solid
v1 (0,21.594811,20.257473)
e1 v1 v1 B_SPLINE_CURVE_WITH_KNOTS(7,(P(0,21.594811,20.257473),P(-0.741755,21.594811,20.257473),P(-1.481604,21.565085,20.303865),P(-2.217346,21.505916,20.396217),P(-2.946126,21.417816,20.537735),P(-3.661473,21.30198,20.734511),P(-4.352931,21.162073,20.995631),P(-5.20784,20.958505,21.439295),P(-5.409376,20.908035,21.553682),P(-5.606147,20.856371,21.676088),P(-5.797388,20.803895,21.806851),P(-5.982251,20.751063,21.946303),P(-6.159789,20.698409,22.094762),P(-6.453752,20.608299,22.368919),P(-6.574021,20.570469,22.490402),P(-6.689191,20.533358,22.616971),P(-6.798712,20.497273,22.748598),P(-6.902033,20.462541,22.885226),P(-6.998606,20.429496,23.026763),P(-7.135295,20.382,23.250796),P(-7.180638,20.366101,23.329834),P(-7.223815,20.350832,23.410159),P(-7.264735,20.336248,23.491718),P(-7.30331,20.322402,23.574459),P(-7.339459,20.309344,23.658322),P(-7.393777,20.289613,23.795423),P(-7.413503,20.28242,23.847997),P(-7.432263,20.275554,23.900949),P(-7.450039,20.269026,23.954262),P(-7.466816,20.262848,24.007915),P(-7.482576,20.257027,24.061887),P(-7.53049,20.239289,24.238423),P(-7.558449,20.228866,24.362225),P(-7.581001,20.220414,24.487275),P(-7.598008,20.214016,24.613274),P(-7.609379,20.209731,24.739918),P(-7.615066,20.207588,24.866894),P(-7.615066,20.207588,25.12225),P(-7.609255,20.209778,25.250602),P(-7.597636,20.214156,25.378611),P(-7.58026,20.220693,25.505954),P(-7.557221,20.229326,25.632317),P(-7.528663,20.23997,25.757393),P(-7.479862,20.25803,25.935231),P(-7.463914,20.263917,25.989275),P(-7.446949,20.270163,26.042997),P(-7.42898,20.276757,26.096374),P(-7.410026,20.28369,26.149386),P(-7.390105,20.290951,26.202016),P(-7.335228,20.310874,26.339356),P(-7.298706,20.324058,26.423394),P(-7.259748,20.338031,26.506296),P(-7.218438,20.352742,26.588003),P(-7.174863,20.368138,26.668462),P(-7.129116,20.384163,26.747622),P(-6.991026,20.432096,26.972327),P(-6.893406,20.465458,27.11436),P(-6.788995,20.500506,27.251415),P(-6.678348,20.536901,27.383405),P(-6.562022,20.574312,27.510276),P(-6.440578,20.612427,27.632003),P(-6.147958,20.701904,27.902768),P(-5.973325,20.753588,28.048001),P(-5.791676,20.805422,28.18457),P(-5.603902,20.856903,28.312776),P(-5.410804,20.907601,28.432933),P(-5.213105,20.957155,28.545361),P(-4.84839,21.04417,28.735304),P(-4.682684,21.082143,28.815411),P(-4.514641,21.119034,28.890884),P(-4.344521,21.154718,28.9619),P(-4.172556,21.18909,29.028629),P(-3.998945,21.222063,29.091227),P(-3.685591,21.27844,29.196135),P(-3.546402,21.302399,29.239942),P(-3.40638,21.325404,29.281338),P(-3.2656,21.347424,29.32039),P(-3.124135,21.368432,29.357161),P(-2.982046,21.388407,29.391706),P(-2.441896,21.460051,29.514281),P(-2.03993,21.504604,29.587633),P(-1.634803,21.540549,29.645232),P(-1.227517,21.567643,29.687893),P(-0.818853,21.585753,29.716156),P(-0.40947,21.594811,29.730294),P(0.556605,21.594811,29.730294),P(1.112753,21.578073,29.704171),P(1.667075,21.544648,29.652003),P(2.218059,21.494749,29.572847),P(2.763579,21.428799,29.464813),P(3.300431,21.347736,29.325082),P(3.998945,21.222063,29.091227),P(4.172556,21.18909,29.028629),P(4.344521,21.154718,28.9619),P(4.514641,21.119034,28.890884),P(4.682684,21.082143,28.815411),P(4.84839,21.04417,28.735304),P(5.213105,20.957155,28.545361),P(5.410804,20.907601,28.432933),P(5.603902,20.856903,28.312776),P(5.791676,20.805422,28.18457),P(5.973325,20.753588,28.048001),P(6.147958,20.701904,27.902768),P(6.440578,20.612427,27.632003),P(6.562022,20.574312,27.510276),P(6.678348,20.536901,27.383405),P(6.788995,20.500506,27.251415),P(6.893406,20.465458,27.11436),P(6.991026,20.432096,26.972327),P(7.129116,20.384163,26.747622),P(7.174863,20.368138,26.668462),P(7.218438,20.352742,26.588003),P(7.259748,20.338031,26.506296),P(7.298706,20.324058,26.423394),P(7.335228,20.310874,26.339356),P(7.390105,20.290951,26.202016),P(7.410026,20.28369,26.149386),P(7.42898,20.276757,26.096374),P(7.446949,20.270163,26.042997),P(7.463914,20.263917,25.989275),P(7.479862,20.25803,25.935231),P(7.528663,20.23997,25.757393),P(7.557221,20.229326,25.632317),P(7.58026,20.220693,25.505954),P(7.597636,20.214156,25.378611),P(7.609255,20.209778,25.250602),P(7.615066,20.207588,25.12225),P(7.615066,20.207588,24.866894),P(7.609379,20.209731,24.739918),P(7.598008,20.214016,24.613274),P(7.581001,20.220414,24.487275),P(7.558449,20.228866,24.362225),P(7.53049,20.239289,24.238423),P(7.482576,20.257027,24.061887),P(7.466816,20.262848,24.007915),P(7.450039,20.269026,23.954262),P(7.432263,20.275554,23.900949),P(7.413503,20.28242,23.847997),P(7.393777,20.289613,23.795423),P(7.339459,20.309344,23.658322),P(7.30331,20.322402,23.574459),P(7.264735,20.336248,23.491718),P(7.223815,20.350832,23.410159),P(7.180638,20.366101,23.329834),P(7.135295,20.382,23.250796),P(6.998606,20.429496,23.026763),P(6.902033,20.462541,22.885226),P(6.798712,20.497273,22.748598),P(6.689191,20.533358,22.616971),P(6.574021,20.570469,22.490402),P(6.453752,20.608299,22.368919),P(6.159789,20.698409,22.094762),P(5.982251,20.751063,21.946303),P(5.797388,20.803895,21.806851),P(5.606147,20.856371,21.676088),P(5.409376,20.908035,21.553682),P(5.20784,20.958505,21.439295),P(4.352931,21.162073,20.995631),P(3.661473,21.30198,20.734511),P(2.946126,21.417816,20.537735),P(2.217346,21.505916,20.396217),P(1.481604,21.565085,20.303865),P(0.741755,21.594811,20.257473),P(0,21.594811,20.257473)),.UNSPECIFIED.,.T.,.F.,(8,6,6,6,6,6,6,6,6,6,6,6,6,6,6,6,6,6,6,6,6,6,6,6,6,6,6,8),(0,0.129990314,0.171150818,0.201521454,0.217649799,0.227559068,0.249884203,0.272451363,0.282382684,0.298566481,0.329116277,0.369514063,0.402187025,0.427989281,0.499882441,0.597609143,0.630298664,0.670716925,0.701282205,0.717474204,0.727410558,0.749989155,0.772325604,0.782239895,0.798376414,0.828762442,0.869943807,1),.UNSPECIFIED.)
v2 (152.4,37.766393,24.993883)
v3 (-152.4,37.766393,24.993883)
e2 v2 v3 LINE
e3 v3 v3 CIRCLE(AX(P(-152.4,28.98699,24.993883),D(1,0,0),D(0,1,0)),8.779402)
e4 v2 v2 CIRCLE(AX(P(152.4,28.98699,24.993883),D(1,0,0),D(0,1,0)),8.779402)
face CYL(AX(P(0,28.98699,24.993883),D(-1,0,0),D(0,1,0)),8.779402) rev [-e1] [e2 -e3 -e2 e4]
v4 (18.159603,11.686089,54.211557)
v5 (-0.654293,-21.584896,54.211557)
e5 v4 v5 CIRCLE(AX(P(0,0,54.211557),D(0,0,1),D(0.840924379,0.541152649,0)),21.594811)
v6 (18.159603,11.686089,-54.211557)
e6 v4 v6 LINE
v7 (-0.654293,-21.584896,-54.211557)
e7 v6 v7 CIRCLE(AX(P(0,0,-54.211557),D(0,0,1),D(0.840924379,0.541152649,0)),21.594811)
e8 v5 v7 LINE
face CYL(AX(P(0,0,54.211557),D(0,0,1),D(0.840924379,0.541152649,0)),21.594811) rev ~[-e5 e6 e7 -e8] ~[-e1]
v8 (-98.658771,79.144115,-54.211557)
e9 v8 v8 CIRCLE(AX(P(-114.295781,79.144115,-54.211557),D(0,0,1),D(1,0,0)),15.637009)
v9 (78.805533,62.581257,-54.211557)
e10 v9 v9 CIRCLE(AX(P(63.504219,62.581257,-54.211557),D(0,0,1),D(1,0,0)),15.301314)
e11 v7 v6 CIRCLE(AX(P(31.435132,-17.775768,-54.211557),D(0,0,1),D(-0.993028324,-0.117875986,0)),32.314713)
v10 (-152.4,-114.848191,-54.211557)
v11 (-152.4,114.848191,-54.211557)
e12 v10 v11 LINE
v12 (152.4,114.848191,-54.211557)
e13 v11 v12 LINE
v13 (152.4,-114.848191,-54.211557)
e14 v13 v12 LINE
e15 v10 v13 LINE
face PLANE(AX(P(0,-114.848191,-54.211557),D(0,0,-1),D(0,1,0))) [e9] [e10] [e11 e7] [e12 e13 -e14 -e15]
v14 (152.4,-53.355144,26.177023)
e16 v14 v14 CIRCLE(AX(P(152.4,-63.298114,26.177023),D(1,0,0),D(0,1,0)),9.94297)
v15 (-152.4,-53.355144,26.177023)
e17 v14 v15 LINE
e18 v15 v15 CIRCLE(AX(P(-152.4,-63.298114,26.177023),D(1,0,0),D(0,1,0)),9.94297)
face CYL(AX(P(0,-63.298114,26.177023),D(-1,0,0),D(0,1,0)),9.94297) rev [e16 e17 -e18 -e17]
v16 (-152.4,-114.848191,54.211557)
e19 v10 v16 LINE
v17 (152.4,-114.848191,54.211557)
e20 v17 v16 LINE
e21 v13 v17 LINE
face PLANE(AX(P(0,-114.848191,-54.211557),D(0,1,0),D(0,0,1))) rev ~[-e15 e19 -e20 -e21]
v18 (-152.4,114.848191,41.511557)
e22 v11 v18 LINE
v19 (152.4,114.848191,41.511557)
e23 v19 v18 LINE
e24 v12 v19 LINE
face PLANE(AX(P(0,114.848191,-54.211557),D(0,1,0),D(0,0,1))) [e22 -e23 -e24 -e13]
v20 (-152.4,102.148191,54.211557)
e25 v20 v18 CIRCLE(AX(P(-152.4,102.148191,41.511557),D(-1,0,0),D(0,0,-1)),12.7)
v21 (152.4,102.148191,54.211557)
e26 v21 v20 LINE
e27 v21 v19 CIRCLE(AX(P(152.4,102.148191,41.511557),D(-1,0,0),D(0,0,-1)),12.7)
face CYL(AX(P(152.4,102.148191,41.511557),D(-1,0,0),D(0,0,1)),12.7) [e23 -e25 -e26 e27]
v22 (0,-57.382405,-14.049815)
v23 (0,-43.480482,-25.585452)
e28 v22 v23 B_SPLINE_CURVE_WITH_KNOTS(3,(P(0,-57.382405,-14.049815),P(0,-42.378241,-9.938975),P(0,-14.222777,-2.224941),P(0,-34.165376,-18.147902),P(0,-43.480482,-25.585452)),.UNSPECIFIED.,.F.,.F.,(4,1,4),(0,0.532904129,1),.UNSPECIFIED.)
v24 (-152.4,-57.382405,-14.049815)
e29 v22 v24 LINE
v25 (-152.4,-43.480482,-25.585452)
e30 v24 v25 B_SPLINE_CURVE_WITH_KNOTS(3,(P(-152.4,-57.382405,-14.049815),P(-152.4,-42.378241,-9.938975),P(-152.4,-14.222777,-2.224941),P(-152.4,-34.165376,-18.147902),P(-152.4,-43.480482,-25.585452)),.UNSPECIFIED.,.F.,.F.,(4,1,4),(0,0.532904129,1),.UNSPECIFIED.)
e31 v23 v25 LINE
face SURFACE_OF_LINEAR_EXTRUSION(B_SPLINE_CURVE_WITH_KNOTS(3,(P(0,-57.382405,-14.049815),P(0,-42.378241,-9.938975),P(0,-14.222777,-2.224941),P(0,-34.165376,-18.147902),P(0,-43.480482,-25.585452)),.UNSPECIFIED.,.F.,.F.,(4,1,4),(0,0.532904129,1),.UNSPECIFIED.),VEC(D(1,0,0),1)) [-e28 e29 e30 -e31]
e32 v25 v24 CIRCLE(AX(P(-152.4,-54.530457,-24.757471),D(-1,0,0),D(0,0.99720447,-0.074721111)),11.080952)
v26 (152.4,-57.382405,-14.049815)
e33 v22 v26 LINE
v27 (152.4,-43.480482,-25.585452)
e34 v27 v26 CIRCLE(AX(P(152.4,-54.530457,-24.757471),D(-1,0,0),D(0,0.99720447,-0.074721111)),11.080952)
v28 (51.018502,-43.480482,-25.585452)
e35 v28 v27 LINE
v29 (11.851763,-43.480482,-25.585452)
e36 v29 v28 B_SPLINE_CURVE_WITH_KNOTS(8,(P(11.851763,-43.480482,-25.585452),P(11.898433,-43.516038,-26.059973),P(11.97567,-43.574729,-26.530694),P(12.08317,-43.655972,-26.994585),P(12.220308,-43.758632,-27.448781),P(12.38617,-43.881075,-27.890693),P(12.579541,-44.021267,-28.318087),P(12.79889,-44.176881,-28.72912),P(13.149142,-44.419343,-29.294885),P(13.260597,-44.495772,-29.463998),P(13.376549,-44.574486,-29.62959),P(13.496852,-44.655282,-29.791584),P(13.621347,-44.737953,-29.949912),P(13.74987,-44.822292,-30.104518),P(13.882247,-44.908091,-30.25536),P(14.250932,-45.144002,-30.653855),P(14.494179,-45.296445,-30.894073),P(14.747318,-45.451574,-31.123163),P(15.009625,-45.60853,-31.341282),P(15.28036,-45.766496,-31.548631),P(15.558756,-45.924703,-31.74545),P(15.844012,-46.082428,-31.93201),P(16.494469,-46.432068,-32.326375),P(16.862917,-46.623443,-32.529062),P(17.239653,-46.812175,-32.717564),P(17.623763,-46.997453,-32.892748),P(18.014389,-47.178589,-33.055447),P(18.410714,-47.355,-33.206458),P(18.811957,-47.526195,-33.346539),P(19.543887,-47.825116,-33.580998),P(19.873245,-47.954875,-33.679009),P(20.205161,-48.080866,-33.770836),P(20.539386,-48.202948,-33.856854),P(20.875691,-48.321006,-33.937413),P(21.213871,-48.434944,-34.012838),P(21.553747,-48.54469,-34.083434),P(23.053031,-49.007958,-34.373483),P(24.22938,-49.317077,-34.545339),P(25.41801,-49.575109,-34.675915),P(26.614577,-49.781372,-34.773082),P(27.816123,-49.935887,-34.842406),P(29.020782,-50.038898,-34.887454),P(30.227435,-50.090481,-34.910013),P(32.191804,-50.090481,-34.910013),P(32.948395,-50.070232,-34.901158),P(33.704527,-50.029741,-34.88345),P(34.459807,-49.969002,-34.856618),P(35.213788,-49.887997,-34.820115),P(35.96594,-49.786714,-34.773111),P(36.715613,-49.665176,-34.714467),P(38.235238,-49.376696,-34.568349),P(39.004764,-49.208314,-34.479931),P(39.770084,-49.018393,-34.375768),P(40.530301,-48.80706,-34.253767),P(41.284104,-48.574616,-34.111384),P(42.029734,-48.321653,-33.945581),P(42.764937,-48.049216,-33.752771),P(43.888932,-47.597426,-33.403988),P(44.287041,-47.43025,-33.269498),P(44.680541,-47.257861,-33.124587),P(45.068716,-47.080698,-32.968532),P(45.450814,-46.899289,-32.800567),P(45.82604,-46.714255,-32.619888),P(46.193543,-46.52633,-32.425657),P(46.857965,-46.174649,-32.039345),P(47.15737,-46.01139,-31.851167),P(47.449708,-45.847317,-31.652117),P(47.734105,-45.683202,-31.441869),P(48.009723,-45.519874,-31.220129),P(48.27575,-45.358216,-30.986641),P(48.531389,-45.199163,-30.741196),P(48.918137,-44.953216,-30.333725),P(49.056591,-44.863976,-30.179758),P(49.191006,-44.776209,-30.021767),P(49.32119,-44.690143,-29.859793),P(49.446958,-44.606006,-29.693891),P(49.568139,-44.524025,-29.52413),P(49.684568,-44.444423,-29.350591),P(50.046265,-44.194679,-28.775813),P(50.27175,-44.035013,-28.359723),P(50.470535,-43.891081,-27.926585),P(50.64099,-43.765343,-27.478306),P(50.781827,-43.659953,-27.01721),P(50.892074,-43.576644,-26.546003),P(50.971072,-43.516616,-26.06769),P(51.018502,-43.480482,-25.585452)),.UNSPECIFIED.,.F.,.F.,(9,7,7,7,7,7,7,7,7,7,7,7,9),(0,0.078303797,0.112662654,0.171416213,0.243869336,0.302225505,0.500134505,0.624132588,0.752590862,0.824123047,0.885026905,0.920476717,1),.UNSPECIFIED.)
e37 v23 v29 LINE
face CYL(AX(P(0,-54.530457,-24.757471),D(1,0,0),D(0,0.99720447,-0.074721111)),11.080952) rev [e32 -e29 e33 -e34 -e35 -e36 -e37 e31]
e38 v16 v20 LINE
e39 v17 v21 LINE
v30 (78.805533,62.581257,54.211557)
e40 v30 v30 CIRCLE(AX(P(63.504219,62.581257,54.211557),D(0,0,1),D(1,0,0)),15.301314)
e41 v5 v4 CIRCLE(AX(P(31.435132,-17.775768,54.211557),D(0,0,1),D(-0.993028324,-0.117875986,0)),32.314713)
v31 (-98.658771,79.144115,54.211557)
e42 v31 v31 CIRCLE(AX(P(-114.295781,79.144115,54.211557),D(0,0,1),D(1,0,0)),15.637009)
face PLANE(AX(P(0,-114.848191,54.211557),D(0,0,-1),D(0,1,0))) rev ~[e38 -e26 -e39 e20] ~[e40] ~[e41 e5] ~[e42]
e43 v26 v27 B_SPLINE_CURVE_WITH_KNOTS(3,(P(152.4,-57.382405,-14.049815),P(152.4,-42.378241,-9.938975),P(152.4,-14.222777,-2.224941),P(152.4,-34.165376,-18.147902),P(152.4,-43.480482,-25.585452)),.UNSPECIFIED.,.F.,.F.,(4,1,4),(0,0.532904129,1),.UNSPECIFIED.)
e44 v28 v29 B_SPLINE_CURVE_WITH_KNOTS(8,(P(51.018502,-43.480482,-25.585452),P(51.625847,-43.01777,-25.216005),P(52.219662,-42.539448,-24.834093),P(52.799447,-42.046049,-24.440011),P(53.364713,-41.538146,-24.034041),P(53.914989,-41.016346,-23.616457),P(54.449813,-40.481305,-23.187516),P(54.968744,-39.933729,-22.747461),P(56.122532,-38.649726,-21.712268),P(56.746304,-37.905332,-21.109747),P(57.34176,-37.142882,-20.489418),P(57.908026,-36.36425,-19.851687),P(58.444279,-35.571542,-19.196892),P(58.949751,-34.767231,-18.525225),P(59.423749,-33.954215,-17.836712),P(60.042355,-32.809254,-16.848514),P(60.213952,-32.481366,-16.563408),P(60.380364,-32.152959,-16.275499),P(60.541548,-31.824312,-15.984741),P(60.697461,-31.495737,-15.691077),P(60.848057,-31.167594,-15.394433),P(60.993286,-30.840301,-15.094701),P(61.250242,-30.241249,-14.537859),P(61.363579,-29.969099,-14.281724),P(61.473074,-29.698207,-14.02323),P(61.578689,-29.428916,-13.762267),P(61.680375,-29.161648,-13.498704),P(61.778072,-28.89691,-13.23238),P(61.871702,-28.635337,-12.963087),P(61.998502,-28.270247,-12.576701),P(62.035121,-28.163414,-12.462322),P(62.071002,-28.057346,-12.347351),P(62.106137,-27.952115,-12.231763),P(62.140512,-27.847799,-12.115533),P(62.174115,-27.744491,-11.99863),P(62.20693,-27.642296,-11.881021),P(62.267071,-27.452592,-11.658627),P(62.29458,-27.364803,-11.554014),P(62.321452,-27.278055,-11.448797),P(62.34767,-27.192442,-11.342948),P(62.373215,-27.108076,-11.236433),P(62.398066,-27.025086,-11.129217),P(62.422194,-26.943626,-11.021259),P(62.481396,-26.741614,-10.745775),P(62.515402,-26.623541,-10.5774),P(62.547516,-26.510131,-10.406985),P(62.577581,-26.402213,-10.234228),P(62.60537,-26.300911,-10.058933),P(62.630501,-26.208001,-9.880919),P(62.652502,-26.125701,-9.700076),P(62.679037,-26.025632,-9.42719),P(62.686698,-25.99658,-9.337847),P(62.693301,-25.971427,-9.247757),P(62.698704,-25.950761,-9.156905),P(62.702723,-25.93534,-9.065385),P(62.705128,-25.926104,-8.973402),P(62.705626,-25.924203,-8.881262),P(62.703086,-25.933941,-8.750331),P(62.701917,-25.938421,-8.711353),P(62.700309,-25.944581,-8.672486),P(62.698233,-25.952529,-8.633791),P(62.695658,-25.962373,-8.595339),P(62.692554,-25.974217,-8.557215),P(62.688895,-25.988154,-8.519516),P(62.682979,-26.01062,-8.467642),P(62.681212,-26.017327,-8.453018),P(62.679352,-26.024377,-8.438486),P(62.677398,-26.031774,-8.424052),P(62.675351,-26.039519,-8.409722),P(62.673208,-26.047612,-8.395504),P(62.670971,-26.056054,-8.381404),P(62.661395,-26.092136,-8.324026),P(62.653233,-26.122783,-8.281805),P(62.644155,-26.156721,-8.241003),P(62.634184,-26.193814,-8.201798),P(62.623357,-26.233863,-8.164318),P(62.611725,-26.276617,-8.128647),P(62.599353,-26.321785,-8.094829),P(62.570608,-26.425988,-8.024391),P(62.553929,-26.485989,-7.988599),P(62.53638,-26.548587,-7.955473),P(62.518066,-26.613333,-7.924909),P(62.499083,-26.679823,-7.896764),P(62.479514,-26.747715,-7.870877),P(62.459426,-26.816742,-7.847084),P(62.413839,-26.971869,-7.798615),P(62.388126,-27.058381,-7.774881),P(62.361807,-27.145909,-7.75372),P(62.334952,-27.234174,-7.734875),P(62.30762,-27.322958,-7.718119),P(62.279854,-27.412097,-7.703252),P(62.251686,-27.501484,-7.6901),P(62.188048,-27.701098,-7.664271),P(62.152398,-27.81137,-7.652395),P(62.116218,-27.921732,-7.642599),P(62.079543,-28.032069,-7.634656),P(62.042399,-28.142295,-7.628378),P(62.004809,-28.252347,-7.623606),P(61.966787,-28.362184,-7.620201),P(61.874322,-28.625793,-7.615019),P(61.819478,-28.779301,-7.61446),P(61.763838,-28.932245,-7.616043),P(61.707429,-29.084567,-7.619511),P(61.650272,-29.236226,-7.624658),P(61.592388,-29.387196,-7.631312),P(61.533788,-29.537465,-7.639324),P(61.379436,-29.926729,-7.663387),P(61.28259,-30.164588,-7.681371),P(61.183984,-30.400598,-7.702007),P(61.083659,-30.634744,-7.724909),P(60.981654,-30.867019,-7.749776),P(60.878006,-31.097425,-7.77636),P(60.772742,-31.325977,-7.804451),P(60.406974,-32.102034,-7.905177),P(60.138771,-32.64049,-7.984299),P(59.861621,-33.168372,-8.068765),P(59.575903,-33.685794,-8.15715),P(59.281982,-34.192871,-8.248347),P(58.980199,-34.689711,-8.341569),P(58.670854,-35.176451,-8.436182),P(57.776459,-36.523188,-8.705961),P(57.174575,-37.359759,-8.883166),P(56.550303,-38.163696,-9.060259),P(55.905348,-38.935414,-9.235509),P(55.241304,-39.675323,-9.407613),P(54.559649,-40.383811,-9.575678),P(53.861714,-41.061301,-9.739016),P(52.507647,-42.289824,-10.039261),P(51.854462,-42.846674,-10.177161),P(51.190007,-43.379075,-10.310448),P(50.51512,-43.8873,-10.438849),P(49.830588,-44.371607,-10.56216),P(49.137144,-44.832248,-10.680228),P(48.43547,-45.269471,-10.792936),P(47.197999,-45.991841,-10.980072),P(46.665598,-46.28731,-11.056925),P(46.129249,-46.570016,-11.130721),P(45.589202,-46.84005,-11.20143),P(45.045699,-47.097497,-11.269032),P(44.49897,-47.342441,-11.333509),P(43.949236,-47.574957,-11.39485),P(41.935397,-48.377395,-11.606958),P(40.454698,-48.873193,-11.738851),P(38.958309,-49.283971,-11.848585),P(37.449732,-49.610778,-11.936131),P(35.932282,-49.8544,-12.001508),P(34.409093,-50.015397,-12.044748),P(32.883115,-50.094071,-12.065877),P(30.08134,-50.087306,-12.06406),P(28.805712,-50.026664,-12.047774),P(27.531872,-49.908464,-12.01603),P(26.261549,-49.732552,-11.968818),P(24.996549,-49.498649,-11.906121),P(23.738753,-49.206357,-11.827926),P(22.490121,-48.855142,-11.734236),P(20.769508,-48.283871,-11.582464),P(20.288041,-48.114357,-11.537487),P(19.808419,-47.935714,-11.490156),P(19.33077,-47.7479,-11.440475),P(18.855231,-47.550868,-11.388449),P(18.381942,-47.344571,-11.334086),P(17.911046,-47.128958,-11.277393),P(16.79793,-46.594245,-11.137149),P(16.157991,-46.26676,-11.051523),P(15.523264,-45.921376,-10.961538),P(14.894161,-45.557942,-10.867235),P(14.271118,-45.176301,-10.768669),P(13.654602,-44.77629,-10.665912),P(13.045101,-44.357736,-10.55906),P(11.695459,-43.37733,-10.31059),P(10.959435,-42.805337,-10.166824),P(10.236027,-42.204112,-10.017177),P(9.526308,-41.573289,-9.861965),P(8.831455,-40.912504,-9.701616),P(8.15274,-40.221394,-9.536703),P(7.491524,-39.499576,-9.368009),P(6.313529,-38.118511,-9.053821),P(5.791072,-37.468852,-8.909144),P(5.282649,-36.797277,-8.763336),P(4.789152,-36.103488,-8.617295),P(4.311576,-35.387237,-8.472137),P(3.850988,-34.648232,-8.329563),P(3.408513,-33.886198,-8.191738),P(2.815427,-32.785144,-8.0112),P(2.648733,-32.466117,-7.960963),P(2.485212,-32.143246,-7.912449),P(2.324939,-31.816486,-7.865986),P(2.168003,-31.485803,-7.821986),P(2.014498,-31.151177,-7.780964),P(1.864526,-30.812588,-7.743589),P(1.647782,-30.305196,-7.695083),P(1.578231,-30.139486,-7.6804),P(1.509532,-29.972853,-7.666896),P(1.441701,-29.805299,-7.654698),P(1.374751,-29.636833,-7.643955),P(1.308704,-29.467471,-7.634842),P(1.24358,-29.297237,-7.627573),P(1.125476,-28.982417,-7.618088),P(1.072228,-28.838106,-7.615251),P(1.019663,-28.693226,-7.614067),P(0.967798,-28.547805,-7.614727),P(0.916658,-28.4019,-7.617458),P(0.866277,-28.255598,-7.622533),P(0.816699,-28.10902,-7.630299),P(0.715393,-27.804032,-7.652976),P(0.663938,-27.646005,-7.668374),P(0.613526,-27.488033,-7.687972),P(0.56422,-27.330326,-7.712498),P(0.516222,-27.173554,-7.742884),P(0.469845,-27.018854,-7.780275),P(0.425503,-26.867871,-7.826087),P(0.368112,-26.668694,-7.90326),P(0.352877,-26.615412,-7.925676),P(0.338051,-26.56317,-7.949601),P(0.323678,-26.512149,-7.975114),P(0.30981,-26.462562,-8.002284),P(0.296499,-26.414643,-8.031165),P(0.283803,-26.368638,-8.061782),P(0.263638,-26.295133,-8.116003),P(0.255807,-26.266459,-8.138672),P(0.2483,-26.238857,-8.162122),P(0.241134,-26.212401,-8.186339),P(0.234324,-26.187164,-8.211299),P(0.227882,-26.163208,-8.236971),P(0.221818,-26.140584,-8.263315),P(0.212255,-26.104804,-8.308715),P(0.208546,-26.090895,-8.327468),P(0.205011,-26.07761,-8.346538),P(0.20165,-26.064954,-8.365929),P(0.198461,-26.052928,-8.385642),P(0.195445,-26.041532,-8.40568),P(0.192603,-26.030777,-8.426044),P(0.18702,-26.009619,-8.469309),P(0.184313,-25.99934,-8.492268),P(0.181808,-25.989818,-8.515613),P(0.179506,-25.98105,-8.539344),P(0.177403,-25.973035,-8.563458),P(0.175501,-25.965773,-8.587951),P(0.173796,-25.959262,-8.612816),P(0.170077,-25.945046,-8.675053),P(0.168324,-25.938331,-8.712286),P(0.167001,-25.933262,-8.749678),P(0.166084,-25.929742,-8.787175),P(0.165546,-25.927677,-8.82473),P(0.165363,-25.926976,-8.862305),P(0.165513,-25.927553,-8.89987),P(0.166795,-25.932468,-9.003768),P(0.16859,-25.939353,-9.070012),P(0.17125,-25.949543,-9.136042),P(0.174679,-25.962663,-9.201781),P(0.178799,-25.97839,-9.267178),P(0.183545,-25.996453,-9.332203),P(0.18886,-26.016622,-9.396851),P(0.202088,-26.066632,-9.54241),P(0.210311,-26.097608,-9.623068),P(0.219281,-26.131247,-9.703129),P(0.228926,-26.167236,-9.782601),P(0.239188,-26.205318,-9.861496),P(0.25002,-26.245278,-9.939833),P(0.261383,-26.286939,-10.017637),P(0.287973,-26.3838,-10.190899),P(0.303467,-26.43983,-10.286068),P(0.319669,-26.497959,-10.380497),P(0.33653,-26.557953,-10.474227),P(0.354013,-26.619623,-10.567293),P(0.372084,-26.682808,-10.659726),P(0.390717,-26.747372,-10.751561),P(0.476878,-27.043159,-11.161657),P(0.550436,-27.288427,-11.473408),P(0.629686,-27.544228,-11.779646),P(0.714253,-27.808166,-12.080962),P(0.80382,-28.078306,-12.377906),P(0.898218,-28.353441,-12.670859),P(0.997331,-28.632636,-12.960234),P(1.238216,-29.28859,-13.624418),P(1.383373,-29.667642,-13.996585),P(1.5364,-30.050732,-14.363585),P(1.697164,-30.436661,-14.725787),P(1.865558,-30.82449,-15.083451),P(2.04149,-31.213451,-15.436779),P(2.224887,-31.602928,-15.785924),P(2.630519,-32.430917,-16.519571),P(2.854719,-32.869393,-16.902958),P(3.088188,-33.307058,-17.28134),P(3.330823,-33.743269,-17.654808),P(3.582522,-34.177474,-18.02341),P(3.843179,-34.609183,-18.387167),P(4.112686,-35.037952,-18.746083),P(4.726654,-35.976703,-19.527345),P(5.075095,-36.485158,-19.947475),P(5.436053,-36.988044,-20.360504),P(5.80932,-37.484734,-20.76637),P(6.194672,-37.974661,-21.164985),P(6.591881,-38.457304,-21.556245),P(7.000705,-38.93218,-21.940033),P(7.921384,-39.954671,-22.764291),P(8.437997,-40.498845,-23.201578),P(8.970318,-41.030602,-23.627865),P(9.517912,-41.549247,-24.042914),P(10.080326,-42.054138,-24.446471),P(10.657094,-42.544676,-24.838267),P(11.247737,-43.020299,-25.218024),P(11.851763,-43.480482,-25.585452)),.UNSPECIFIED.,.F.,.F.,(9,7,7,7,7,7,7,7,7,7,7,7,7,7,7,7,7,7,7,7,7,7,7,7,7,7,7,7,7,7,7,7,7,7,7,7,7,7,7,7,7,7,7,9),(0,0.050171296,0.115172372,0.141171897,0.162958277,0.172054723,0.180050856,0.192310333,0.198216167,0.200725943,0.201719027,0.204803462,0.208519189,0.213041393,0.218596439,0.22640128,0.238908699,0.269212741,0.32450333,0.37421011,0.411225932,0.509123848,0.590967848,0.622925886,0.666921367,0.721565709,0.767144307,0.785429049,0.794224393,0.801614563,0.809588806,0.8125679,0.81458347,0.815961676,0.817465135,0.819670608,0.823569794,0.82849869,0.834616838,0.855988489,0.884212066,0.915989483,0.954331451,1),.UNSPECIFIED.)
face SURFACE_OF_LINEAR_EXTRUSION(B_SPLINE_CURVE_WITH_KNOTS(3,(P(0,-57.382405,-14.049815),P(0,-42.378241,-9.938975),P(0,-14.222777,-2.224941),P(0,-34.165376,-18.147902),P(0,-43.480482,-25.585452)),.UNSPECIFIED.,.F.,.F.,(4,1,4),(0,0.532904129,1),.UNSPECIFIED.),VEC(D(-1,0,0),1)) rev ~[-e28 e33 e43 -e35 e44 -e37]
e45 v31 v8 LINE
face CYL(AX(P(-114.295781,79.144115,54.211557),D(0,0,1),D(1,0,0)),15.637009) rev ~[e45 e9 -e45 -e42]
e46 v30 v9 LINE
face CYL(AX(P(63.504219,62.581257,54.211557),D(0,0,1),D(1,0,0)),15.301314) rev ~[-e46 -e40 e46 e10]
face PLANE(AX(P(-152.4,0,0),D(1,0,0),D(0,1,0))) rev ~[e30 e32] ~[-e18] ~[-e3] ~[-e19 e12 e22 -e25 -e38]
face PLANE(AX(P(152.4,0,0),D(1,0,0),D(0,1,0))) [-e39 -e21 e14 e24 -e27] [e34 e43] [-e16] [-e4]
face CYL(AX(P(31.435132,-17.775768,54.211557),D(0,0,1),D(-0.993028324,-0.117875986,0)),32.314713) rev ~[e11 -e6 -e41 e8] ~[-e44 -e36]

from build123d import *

# Parameters (mm, degrees)
F0_W     = 229.6963825016
F0_H     = 108.4231149972
F0_R     = 9.942969978
F0_R_2   = 8.7794022154
F1_DEPTH = 152.4
F2_R     = 15.637009349
F2_R_2   = 15.3013139209
F3_DEPTH = 108.4241150972
F4_R     = 12.7


with BuildPart() as f1:
    # F0 (on Right) → F1 (new body, symmetric)
    with BuildSketch(Plane.YZ):
        Rectangle(F0_W, F0_H)
        with BuildLine():
            ThreePointArc((-43.4804819524, -25.5854520947), (-61.6064477727, -33.2849477454), (-57.3824048042, -14.049815014))
            add(Edge.make_bspline(
                [(-57.3824048042, -14.049815014), (-42.3782414018, -9.9389745723), (-14.222776702, -2.224940818), (-34.1653761162, -18.1479024622), (-43.4804819524, -25.5854520947)],
                knots=[0, 0, 0, 0, 0.5329041294, 1, 1, 1, 1], degree=3))
        make_face(mode=Mode.SUBTRACT)
        with Locations((-63.2981136441, 26.1770226061)):
            Circle(F0_R, mode=Mode.SUBTRACT)
        with Locations((28.9869904518, 24.9938834459)):
            Circle(F0_R_2, mode=Mode.SUBTRACT)
    extrude(amount=F1_DEPTH, both=True)

    # F2 (on face) → F3 (cut, through all)
    with BuildSketch(Plane.XY.offset(54.2115574986)):
        with Locations((-114.2957806332, 79.1441154076)):
            Circle(F2_R)
        with Locations((63.5042193668, 62.5812566792)):
            Circle(F2_R_2)
        with BuildLine():
            ThreePointArc((-0.654293087, -21.5848963512), (33.3430248824, -50.0341097243), (63.7498454838, -17.775767678))
            ThreePointArc((63.7498454838, -17.775767678), (48.9743135647, 9.3649362096), (18.1596027821, 11.6860890263))
            ThreePointArc((18.1596027821, 11.6860890263), (20.7182170411, 6.0902653943), (21.5948107177, 0))
            ThreePointArc((21.5948107177, 0), (15.0367302723, -15.4994384625), (-0.654293087, -21.5848963512))
        make_face()
        with BuildLine():
            ThreePointArc((21.5948107177, 0), (20.7182170411, 6.0902653943), (18.1596027821, 11.6860890263))
            ThreePointArc((18.1596027821, 11.6860890263), (3.3062432367, -1.8695964447), (-0.654293087, -21.5848963512))
            ThreePointArc((-0.654293087, -21.5848963512), (15.0367302723, -15.4994384625), (21.5948107177, 0))
        make_face()
        with BuildLine():
            ThreePointArc((-0.654293087, -21.5848963512), (3.3062432367, -1.8695964447), (18.1596027821, 11.6860890263))
            ThreePointArc((18.1596027821, 11.6860890263), (-18.7975685629, 10.6295468416), (-0.654293087, -21.5848963512))
        make_face()
    extrude(amount=-F3_DEPTH, mode=Mode.SUBTRACT)

    # F4
    f4_edges = [f1.edges().sort_by_distance(p)[0] for p in [
        (0, 114.848191, 54.211557),
    ]]
    fillet(f4_edges, radius=F4_R)


solid = f1.part
